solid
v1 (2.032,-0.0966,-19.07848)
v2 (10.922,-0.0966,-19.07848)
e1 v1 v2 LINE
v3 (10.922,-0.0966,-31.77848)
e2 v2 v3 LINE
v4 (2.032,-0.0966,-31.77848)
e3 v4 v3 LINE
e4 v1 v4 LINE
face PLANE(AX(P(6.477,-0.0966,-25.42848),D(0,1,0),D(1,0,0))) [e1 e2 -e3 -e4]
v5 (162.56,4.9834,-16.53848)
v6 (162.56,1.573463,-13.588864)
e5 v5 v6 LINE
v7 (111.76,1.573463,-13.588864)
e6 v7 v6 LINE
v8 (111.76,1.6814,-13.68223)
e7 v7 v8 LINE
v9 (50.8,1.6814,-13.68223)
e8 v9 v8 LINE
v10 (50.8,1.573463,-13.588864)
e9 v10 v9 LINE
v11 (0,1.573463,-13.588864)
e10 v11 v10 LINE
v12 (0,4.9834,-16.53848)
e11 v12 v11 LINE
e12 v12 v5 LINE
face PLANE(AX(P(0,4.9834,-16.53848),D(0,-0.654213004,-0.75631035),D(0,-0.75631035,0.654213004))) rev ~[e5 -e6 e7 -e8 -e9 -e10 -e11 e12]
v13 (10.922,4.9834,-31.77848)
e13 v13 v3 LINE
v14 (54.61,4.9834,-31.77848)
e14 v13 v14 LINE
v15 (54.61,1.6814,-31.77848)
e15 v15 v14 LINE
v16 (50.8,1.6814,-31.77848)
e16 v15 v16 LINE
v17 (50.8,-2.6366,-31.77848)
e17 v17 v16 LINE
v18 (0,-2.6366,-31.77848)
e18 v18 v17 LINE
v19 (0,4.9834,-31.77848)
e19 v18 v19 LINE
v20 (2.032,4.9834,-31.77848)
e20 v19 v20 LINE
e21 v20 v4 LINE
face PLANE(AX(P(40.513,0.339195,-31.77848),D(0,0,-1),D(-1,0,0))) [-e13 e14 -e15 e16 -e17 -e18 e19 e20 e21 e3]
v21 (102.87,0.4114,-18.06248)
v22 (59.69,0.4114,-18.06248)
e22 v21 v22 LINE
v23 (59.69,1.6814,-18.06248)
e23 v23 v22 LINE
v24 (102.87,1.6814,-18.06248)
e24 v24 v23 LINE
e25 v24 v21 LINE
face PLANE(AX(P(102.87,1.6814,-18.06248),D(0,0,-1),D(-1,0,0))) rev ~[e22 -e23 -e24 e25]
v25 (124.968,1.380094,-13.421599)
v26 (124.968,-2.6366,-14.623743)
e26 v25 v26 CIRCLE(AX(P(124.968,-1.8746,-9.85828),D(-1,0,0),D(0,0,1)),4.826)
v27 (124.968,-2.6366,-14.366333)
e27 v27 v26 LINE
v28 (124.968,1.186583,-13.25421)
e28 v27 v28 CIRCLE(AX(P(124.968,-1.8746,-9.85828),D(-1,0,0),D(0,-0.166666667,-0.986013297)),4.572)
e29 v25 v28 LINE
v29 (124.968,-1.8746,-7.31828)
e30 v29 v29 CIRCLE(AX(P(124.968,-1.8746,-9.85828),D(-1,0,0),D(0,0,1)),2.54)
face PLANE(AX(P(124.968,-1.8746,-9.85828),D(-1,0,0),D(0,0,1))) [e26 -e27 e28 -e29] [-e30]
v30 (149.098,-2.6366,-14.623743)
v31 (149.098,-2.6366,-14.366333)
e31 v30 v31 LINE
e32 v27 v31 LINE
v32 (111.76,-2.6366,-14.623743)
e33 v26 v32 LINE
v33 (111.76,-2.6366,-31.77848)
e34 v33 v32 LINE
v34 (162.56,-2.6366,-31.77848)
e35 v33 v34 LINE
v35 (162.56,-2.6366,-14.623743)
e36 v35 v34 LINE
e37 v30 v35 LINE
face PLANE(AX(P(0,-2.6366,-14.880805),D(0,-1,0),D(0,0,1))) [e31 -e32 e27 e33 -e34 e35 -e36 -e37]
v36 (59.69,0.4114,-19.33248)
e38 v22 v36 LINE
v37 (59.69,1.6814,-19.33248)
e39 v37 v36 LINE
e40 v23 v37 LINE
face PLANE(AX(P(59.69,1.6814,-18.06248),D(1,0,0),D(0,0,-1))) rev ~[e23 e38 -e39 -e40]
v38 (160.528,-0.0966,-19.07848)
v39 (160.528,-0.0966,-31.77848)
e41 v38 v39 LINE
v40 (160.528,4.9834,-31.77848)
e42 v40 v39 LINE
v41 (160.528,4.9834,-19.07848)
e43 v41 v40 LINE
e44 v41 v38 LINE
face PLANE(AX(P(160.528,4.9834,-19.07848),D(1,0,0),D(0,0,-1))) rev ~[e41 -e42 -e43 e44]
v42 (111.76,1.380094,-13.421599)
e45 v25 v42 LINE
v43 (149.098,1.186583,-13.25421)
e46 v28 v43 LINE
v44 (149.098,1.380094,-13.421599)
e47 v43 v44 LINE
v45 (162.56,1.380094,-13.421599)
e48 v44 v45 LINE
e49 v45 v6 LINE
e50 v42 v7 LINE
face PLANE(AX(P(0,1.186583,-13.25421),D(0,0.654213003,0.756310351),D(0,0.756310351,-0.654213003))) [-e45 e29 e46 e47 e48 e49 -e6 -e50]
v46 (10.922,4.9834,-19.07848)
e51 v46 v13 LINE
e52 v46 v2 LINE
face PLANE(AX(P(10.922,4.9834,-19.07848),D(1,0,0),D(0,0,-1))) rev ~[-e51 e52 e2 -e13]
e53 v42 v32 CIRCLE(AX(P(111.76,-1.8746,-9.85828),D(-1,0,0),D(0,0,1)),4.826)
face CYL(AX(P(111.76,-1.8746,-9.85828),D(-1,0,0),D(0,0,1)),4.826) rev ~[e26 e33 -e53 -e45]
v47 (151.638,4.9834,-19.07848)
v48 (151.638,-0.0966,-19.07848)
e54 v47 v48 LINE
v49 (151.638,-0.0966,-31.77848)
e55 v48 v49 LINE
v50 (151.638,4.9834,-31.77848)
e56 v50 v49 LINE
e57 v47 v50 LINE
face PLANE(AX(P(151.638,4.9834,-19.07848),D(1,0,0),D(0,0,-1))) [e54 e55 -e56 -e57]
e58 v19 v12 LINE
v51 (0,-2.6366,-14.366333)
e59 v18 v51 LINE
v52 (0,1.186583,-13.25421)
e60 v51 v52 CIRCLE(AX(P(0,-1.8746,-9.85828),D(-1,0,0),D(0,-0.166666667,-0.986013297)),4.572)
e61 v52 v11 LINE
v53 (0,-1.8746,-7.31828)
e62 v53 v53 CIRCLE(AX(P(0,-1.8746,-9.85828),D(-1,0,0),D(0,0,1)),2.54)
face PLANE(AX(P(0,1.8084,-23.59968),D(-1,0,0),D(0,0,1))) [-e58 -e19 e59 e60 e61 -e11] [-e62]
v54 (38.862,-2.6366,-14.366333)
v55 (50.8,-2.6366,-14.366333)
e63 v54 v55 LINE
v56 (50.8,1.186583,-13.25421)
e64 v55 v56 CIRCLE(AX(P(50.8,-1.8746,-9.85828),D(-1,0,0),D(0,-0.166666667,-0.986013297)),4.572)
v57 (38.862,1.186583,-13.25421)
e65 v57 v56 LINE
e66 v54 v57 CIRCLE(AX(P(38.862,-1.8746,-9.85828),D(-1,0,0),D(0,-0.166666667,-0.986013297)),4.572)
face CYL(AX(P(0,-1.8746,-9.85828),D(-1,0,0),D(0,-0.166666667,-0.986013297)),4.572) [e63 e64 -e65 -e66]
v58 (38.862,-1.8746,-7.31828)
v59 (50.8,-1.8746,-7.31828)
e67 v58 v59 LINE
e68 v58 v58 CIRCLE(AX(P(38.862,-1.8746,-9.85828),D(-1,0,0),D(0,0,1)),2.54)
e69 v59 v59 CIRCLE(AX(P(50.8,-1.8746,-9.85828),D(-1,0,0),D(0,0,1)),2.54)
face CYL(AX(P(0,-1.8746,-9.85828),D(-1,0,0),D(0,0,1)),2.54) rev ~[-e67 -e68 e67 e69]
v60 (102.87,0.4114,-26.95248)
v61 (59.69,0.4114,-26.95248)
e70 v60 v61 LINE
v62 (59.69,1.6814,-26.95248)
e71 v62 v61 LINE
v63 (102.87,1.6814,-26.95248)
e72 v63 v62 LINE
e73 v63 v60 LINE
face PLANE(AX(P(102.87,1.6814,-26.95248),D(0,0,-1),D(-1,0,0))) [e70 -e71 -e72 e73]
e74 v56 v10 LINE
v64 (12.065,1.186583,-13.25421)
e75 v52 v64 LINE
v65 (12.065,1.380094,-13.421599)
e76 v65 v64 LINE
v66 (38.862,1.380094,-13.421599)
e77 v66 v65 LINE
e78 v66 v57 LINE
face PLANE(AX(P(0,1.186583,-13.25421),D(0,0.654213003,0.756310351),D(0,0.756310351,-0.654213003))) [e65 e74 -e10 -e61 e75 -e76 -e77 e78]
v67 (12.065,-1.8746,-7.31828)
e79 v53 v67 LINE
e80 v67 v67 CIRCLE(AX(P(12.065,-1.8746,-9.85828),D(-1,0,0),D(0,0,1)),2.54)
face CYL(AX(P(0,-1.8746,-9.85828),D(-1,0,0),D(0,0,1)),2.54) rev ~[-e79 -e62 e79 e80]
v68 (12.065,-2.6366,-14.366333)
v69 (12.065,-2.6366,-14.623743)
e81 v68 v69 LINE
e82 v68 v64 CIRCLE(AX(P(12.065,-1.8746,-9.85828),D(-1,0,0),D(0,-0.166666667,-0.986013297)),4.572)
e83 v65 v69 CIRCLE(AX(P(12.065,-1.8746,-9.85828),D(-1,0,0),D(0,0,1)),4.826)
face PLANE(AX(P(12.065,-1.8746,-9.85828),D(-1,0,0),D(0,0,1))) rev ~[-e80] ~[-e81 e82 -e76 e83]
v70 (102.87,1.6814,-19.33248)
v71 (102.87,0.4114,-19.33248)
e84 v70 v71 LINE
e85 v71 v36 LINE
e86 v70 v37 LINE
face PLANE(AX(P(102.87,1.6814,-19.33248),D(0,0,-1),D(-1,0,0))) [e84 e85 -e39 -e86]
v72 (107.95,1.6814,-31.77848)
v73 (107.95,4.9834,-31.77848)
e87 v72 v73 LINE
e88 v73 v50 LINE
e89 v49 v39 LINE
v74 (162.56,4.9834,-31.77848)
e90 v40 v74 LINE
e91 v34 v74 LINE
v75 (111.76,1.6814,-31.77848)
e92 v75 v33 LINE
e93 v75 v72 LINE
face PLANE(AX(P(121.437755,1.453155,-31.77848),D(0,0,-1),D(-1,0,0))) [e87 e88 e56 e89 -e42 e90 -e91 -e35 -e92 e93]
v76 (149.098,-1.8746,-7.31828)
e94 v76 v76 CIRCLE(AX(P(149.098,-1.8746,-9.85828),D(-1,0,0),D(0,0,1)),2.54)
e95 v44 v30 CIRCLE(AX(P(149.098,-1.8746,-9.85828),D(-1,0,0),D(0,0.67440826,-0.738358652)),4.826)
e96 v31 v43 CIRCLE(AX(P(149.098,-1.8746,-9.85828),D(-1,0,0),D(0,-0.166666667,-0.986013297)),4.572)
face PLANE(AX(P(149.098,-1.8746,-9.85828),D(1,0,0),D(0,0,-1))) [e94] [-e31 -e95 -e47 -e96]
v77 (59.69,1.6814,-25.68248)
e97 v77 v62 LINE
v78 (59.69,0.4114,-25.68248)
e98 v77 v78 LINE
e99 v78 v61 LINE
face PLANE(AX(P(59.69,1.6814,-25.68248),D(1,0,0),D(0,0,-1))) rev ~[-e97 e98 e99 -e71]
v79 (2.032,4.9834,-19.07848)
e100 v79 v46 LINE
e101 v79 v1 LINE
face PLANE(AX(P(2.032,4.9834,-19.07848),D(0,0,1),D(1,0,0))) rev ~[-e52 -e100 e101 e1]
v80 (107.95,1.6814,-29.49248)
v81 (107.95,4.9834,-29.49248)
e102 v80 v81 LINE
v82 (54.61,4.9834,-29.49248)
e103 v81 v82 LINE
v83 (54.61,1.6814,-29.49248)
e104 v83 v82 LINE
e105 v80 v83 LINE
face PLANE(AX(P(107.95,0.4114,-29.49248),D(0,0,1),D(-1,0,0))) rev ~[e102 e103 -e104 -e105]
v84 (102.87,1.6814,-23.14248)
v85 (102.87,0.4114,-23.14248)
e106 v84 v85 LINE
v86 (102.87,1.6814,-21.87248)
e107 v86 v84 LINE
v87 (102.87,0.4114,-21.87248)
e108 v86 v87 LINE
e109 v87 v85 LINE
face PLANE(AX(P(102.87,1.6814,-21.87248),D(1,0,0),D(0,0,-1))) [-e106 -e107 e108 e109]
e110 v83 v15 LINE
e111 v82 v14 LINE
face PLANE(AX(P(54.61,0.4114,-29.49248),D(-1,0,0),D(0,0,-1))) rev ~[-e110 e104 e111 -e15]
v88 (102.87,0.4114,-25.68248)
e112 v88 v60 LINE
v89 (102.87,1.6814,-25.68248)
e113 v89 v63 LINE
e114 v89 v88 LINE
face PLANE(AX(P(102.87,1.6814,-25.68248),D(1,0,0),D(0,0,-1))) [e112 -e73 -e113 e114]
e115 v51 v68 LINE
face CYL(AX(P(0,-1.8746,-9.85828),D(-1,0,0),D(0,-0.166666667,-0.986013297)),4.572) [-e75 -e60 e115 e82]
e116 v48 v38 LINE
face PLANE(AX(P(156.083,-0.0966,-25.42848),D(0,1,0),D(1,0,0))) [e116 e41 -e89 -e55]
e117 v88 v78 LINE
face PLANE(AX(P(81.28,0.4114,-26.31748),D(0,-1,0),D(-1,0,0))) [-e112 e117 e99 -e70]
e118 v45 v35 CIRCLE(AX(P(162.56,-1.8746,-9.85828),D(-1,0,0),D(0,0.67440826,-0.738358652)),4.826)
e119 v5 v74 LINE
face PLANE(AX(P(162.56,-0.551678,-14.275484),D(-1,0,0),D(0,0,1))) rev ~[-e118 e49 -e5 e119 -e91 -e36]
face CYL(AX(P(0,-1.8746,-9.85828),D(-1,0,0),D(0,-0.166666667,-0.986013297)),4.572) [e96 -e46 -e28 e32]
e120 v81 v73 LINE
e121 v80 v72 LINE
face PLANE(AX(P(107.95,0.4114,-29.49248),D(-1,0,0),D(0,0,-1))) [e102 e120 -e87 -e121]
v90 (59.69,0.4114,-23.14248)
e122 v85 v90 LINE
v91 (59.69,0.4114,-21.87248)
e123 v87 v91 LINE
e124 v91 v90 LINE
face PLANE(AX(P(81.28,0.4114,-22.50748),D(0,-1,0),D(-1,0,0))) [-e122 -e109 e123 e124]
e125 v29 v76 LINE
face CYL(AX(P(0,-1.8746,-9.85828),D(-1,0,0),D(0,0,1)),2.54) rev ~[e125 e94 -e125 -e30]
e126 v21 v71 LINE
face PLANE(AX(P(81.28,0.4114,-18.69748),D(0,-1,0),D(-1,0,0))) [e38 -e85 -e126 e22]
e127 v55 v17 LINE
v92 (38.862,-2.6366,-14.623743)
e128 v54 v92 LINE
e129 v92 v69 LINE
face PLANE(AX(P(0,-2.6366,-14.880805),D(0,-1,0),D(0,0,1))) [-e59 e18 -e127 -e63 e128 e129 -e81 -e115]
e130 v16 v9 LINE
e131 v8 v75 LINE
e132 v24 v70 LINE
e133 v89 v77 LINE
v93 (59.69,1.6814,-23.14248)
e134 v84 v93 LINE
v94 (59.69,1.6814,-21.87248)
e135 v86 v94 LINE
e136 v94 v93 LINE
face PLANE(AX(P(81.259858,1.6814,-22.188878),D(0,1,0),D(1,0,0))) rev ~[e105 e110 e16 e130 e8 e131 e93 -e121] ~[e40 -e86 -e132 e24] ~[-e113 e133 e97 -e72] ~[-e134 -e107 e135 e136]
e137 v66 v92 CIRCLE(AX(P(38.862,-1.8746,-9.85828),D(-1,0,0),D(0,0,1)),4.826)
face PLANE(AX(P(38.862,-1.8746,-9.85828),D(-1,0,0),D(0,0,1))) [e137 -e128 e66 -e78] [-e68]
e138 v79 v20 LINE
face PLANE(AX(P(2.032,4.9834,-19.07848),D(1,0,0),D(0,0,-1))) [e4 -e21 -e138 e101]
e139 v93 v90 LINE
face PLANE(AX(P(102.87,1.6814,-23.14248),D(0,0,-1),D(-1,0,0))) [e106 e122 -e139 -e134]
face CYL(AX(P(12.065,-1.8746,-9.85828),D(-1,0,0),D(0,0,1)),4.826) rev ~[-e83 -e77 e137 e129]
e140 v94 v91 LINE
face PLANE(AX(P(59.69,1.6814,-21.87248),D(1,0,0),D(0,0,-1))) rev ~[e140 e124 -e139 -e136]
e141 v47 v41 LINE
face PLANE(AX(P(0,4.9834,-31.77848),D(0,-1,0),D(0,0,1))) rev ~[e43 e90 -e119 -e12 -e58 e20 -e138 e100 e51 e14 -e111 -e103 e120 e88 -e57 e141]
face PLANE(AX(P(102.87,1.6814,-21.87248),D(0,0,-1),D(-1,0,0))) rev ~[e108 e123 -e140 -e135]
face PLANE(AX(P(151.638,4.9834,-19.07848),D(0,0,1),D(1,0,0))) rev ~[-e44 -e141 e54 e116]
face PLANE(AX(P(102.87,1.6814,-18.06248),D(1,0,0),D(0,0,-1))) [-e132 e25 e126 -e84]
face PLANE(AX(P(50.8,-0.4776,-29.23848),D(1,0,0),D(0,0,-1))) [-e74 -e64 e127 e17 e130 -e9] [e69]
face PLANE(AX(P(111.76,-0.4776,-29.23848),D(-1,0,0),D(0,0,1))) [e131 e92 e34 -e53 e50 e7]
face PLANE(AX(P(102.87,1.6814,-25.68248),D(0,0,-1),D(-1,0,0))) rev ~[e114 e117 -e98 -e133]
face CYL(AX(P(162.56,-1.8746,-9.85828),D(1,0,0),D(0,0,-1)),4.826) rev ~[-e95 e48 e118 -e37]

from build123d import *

# Parameters (mm, degrees)
SKETCH1_R                = 1.6002
SKETCH1_R_2              = 0.8128
BOSS_EXTRUDE5_DEPTH      = 162.56
CUT_EXTRUDE1_DEPTH       = 14.351
SKETCH3_W                = 0.889
SKETCH3_H                = 5.842
BOSS_EXTRUDE6_DEPTH      = 36.957
SKETCH16_W               = 13.462
SKETCH16_H               = 6.460130881
BOSS_EXTRUDE7_DEPTH      = 33.02
CUT_EXTRUDE4_DEPTH       = 15.24
SKETCH18_W               = 1.778
SKETCH18_H               = 5.842
BOSS_EXTRUDE8_DEPTH      = 38.1
CUT_EXTRUDE5_DEPTH       = 14.224
SKETCH20_W               = 2.1336
SKETCH20_H               = 5.461
BOSS_EXTRUDE9_DEPTH      = 36.322
SKETCH22_R               = 1.4224
CUT_EXTRUDE7_DEPTH       = 20.32
CUT_EXTRUDE7_DEPTH_BACK  = 24.13
SKETCH25_W               = 112.268
SKETCH25_H               = 3.007323321
CUT_EXTRUDE8_DEPTH       = 24.13
SKETCH27_R               = 1.778
CUT_EXTRUDE9_DEPTH       = 112.268
CUT_EXTRUDE12_DEPTH      = 14.224
SKETCH34_W               = 43.053
SKETCH34_H               = 2.1336
BOSS_EXTRUDE14_DEPTH     = 7.112
SKETCH35_R               = 1.4224
CUT_EXTRUDE13_DEPTH      = 7.112
SKETCH37_W               = 60.96
SKETCH37_H               = 15.24
CUT_EXTRUDE14_DEPTH      = 3.048
SKETCH38_R               = 0.8128
CUT_EXTRUDE15_DEPTH      = 5.08
SKETCH39_R               = 0.8128
CUT_EXTRUDE16_DEPTH      = 5.08
SKETCH40_W               = 60.96
SKETCH40_H               = 2.54
CUT_EXTRUDE17_DEPTH      = 3.048
SKETCH41_R               = 1.161307013
BOSS_EXTRUDE15_DEPTH     = 6.604
SKETCH42_R               = 1.020818471
BOSS_EXTRUDE16_DEPTH     = 5.588
SKETCH43_R               = 0.8128
CUT_EXTRUDE18_DEPTH      = 5.08
SKETCH44_R               = 0.8128
CUT_EXTRUDE19_DEPTH      = 5.08
SKETCH46_W               = 60.96
SKETCH46_H               = 9.087986699
CUT_EXTRUDE21_DEPTH      = 3.048
SKETCH47_W               = 53.34
SKETCH47_H               = 2.286
CUT_EXTRUDE22_DEPTH      = 15.24
SKETCH48_R               = 2.54
BOSS_EXTRUDE17_DEPTH     = 25.146
SKETCH49_R               = 2.54
BOSS_EXTRUDE18_DEPTH     = 25.146
SKETCH50_R               = 2.794
CUT_EXTRUDE23_DEPTH      = 112.268
SKETCH51_R               = 1.27
CUT_EXTRUDE24_DEPTH      = 174.498
CUT_EXTRUDE25_DEPTH      = 1.27
SKETCH55_W               = 46.703523857
SKETCH55_H               = 5.873481267
CUT_EXTRUDE26_DEPTH      = 9.144
CUT_EXTRUDE26_DEPTH_BACK = 8.636
SKETCH57_R               = 1.029255476
BOSS_EXTRUDE20_DEPTH     = 5.08
SKETCH58_R               = 1.09273592
BOSS_EXTRUDE21_DEPTH     = 7.112
SKETCH59_R               = 1.016
CUT_EXTRUDE27_DEPTH      = 66.04
CUT_EXTRUDE27_DEPTH_BACK = 5.08
SKETCH60_R               = 1.869467668
SKETCH60_R_2             = 1.016
BOSS_EXTRUDE22_DEPTH     = 162.56
SKETCH61_R               = 2.219373527
CUT_EXTRUDE28_DEPTH      = 112.268
SKETCH62_R               = 1.016
BOSS_EXTRUDE26_DEPTH     = 25.654
SKETCH65_R               = 1.016
BOSS_EXTRUDE27_DEPTH     = 25.654
SKETCH67_R               = 2.794
CUT_EXTRUDE32_DEPTH      = 12.827
SKETCH68_R               = 2.794
CUT_EXTRUDE33_DEPTH      = 12.827
SKETCH72_R               = 2.794
CUT_EXTRUDE34_DEPTH      = 25.654
BOSS_EXTRUDE28_DEPTH     = 0.127
SKETCH77_R               = 1.016
BOSS_EXTRUDE29_DEPTH     = 0.254
SKETCH79_R               = 1.016
CUT_EXTRUDE35_DEPTH      = 15.748
SKETCH87_W               = 23.622
SKETCH87_H               = 13.462
BOSS_EXTRUDE30_DEPTH     = 6.096
CUT_EXTRUDE36_DEPTH      = 14.9098
SKETCH89_W               = 1.4478
SKETCH89_H               = 6.35
BOSS_EXTRUDE31_DEPTH     = 30.6578
BOSS_EXTRUDE32_DEPTH     = 2.159
BOSS_EXTRUDE33_DEPTH     = 2.159
CUT_EXTRUDE38_DEPTH      = 43.053
BOSS_EXTRUDE35_DEPTH     = 14.859
SKETCH98_W               = 13.462
SKETCH98_H               = 6.35
CUT_EXTRUDE41_DEPTH      = 19.431
BOSS_EXTRUDE36_DEPTH     = 15.113
SKETCH102_W              = 13.462
SKETCH102_H              = 6.35
CUT_EXTRUDE42_DEPTH      = 27.051
BOSS_EXTRUDE39_DEPTH     = 2.159
BOSS_EXTRUDE40_DEPTH     = 14.986
BOSS_EXTRUDE41_DEPTH     = 2.159
SKETCH107_R              = 5.08
CUT_EXTRUDE43_DEPTH      = 173.736
SKETCH108_R              = 4.572
SKETCH108_R_2            = 2.54
BOSS_EXTRUDE43_DEPTH     = 162.56
SKETCH111_R              = 5.08
CUT_EXTRUDE44_DEPTH      = 60.96
SKETCH112_R              = 4.826
CUT_EXTRUDE45_DEPTH      = 13.462
SKETCH114_R              = 4.826
CUT_EXTRUDE46_DEPTH      = 26.797
SKETCH116_R              = 4.826
CUT_EXTRUDE47_DEPTH      = 13.208
SKETCH125_R              = 1.016
BOSS_EXTRUDE44_DEPTH     = 8.001
SKETCH126_R              = 1.016
BOSS_EXTRUDE45_DEPTH     = 7.747
SKETCH127_W              = 43.18
SKETCH127_H              = 1.27
BOSS_EXTRUDE46_DEPTH     = 1.27
SKETCH129_W              = 13.462
SKETCH129_H              = 6.35
BOSS_EXTRUDE47_DEPTH     = 47.244
SKETCH130_W              = 12.904618135
SKETCH130_H              = 7.62
BOSS_EXTRUDE48_DEPTH     = 46.482
SKETCH131_W              = 8.89
SKETCH131_H              = 12.7
CUT_EXTRUDE48_DEPTH      = 5.08


with BuildPart() as part:
    # Sketch1 → Boss-Extrude5 (new body)
    with BuildSketch(Plane(origin=(0, 0, 0), x_dir=(0, 0, -1), z_dir=(1, 0, 0))):
        with BuildLine():
            ThreePointArc((11.4584801, -1.874600251), (11.409460099, -2.267640517), (11.265403421, -2.636600251))
            Line((11.265403421, -2.636600251), (11.4584801, -2.636600251))
            Line((11.4584801, -2.636600251), (31.7784801, -2.636600251))
            Line((31.7784801, -2.636600251), (31.7784801, 4.983399749))
            Line((31.7784801, 4.983399749), (16.5384801, 4.983399749))
            Line((16.5384801, 4.983399749), (11.265403421, -1.112600251))
            ThreePointArc((11.265403421, -1.112600251), (11.409460099, -1.481559985), (11.4584801, -1.874600251))
        make_face()
        with Locations((9.8582801, -1.874600251)):
            Circle(SKETCH1_R)
        with Locations((9.8582801, -1.874600251)):
            Circle(SKETCH1_R_2, mode=Mode.SUBTRACT)
    extrude(amount=BOSS_EXTRUDE5_DEPTH)

    # Sketch2 → Cut-Extrude1 (cut)
    with BuildSketch(Plane(origin=(0, 0, -31.7784801), x_dir=(-1, 0, 0), z_dir=(0, 0, -1))):
        Polygon((0, 4.983399749), (0, -0.858600251), (-17.78, -0.858600251), (-23.622, 4.983399749), align=None)
    extrude(amount=-CUT_EXTRUDE1_DEPTH, mode=Mode.SUBTRACT)

    # Sketch3 → Boss-Extrude6 (add)
    with BuildSketch(Plane.ZY):
        with Locations((-31.3339801, 2.062399749)):
            Rectangle(SKETCH3_W, SKETCH3_H)
    extrude(amount=-BOSS_EXTRUDE6_DEPTH)

    # Sketch16 → Boss-Extrude7 (add)
    with BuildSketch(Plane.ZY):
        with Locations((-24.1584801, 1.753334308)):
            Rectangle(SKETCH16_W, SKETCH16_H)
    extrude(amount=-BOSS_EXTRUDE7_DEPTH)

    # Sketch17 → Cut-Extrude4 (cut)
    with BuildSketch(Plane(origin=(0, 0, -31.7784801), x_dir=(-1, 0, 0), z_dir=(0, 0, -1))):
        Polygon((0, 4.983399749), (0, -0.858600251), (-17.78, -0.858600251), (-23.622, 4.983399749), align=None)
    extrude(amount=-CUT_EXTRUDE4_DEPTH, mode=Mode.SUBTRACT)

    # Sketch18 → Boss-Extrude8 (add)
    with BuildSketch(Plane.ZY):
        with Locations((-30.8894801, 2.062399749)):
            Rectangle(SKETCH18_W, SKETCH18_H)
    extrude(amount=-BOSS_EXTRUDE8_DEPTH)

    # Sketch19 → Cut-Extrude5 (cut)
    with BuildSketch(Plane(origin=(0, 0, -31.7784801), x_dir=(-1, 0, 0), z_dir=(0, 0, -1))):
        Polygon((-162.56, 4.983399749), (-162.56, -0.477600251), (-142.24, -0.477600251), (-136.779, 4.983399749), align=None)
    extrude(amount=-CUT_EXTRUDE5_DEPTH, mode=Mode.SUBTRACT)

    # Sketch20 → Boss-Extrude9 (add)
    with BuildSketch(Plane(origin=(162.56, 0, 0), x_dir=(0, 0, -1), z_dir=(1, 0, 0))):
        with Locations((30.7116801, 2.252899749)):
            Rectangle(SKETCH20_W, SKETCH20_H)
    extrude(amount=-BOSS_EXTRUDE9_DEPTH)

    # Sketch22 → Cut-Extrude7 (cut, two sides)
    with BuildSketch(Plane(origin=(0, -0.477600251, 0), x_dir=(1, 0, 0), z_dir=(0, 1, 0))) as cut_extrude7_sk:
        with Locations((145.9484, 26.5714801)):
            Circle(SKETCH22_R)
        with BuildLine():
            ThreePointArc((147.3708, 26.5714801), (146.954188686, 25.565691415), (145.9484, 25.1490801))
            Line((145.9484, 25.1490801), (157.217057139, 25.1490801))
            ThreePointArc((157.217057139, 25.1490801), (155.794657139, 26.5714801), (157.217057139, 27.9938801))
            Line((157.217057139, 27.9938801), (145.9484, 27.9938801))
            ThreePointArc((145.9484, 27.9938801), (146.954188686, 27.577268786), (147.3708, 26.5714801))
        make_face()
        with Locations((157.217057139, 26.5714801)):
            Circle(SKETCH22_R)
        with BuildLine():
            ThreePointArc((157.217057139, 19.1292801), (155.794657139, 20.5516801), (157.217057139, 21.9740801))
            Line((157.217057139, 21.9740801), (145.9484, 21.9740801))
            ThreePointArc((145.9484, 21.9740801), (146.954188686, 21.557468786), (147.3708, 20.5516801))
            ThreePointArc((147.3708, 20.5516801), (146.954188686, 19.545891415), (145.9484, 19.1292801))
            Line((145.9484, 19.1292801), (157.217057139, 19.1292801))
        make_face()
        with Locations((157.217057139, 20.5516801)):
            Circle(SKETCH22_R)
        with Locations((145.9484, 20.5516801)):
            Circle(SKETCH22_R)
    extrude(amount=CUT_EXTRUDE7_DEPTH, mode=Mode.SUBTRACT)
    extrude(cut_extrude7_sk.sketch, amount=-CUT_EXTRUDE7_DEPTH_BACK, mode=Mode.SUBTRACT)

    # Sketch25 → Cut-Extrude8 (cut)
    with BuildSketch(Plane(origin=(0, 4.983399749, 0), x_dir=(1, 0, 0), z_dir=(0, 1, 0))):
        with Locations((81.28, 9.761741761)):
            Rectangle(SKETCH25_W, SKETCH25_H)
    extrude(amount=-CUT_EXTRUDE8_DEPTH, mode=Mode.SUBTRACT)

    # Sketch27 → Cut-Extrude9 (cut)
    with BuildSketch(Plane.ZY.offset(-137.414)):
        with Locations((-9.8582801, -1.874600251)):
            Circle(SKETCH27_R)
    extrude(amount=CUT_EXTRUDE9_DEPTH, mode=Mode.SUBTRACT)

    # Sketch31 → Cut-Extrude12 (cut)
    with BuildSketch(Plane(origin=(0, 0, -31.7784801), x_dir=(-1, 0, 0), z_dir=(0, 0, -1))):
        Polygon((-162.56, 4.983399749), (-162.56, -0.477600251), (-124.968, -0.477600251), (-119.507, 4.983399749), (-124.079, 4.983399749), align=None)
    extrude(amount=-CUT_EXTRUDE12_DEPTH, mode=Mode.SUBTRACT)

    # Sketch34 → Boss-Extrude14 (add)
    with BuildSketch(Plane(origin=(0, 4.983399749, 0), x_dir=(1, 0, 0), z_dir=(0, 1, 0))):
        with Locations((141.0335, 30.7116801)):
            Rectangle(SKETCH34_W, SKETCH34_H)
    extrude(amount=-BOSS_EXTRUDE14_DEPTH)

    # Sketch35 → Cut-Extrude13 (cut)
    with BuildSketch(Plane(origin=(0, -0.477600251, 0), x_dir=(1, 0, 0), z_dir=(0, 1, 0))):
        with BuildLine():
            Line((130.048, 25.1490801), (145.9484, 25.1490801))
            ThreePointArc((145.9484, 25.1490801), (144.526, 26.5714801), (145.9484, 27.9938801))
            Line((145.9484, 27.9938801), (130.048, 27.9938801))
            ThreePointArc((130.048, 27.9938801), (131.053788686, 27.577268786), (131.4704, 26.5714801))
            ThreePointArc((131.4704, 26.5714801), (131.053788686, 25.565691415), (130.048, 25.1490801))
        make_face()
        with BuildLine():
            ThreePointArc((145.9484, 19.1292801), (144.526, 20.5516801), (145.9484, 21.9740801))
            Line((145.9484, 21.9740801), (130.048, 21.9740801))
            ThreePointArc((130.048, 21.9740801), (131.053788686, 21.557468786), (131.4704, 20.5516801))
            ThreePointArc((131.4704, 20.5516801), (131.053788686, 19.545891415), (130.048, 19.1292801))
            Line((130.048, 19.1292801), (145.9484, 19.1292801))
        make_face()
        with Locations((130.048, 20.5516801)):
            Circle(SKETCH35_R)
        with Locations((130.048, 26.5714801)):
            Circle(SKETCH35_R)
    extrude(amount=-CUT_EXTRUDE13_DEPTH, mode=Mode.SUBTRACT)

    # Sketch37 → Cut-Extrude14 (cut)
    with BuildSketch(Plane(origin=(0, -2.636600251, 0), x_dir=(-1, 0, 0), z_dir=(0, -1, 0))):
        with Locations((-81.28, 21.6184801)):
            Rectangle(SKETCH37_W, SKETCH37_H)
    extrude(amount=-CUT_EXTRUDE14_DEPTH, mode=Mode.SUBTRACT)

    # Sketch38 → Cut-Extrude15 (cut)
    with BuildSketch(Plane.ZY.offset(-111.76)):
        with Locations((-27.9684801, -1.112600251)):
            Circle(SKETCH38_R)
    extrude(amount=-CUT_EXTRUDE15_DEPTH, mode=Mode.SUBTRACT)

    # Sketch39 → Cut-Extrude16 (cut)
    with BuildSketch(Plane(origin=(50.8, 0, 0), x_dir=(0, 0, -1), z_dir=(1, 0, 0))):
        with Locations(Location((27.9684801, -1.112600251, 0), (0, 0, 180))):
            Circle(SKETCH39_R)
    extrude(amount=-CUT_EXTRUDE16_DEPTH, mode=Mode.SUBTRACT)

    # Sketch40 → Cut-Extrude17 (cut)
    with BuildSketch(Plane(origin=(0, -2.636600251, 0), x_dir=(-1, 0, 0), z_dir=(0, -1, 0))):
        with Locations((-81.28, 30.5084801)):
            Rectangle(SKETCH40_W, SKETCH40_H)
    extrude(amount=-CUT_EXTRUDE17_DEPTH, mode=Mode.SUBTRACT)

    # Sketch41 → Boss-Extrude15 (add)
    with BuildSketch(Plane(origin=(50.8, 0, 0), x_dir=(0, 0, -1), z_dir=(1, 0, 0))):
        with Locations((27.9684801, -1.112600251)):
            Circle(SKETCH41_R)
    extrude(amount=-BOSS_EXTRUDE15_DEPTH)

    # Sketch42 → Boss-Extrude16 (add)
    with BuildSketch(Plane.ZY.offset(-111.76)):
        with Locations((-27.9684801, -1.112600251)):
            Circle(SKETCH42_R)
    extrude(amount=-BOSS_EXTRUDE16_DEPTH)

    # Sketch43 → Cut-Extrude18 (cut)
    with BuildSketch(Plane(origin=(50.8, 0, 0), x_dir=(0, 0, -1), z_dir=(1, 0, 0))):
        with Locations((30.5084801, -1.112600251)):
            Circle(SKETCH43_R)
    extrude(amount=-CUT_EXTRUDE18_DEPTH, mode=Mode.SUBTRACT)

    # Sketch44 → Cut-Extrude19 (cut)
    with BuildSketch(Plane.ZY.offset(-111.76)):
        with Locations(Location((-30.5084801, -1.112600251, 0), (0, 0, 180))):
            Circle(SKETCH44_R)
    extrude(amount=-CUT_EXTRUDE19_DEPTH, mode=Mode.SUBTRACT)

    # Sketch46 → Cut-Extrude21 (cut)
    with BuildSketch(Plane(origin=(0, -2.636600251, 0), x_dir=(-1, 0, 0), z_dir=(0, -1, 0))):
        with Locations((-81.28, 9.45448675)):
            Rectangle(SKETCH46_W, SKETCH46_H)
    extrude(amount=-CUT_EXTRUDE21_DEPTH, mode=Mode.SUBTRACT)

    # Sketch47 → Cut-Extrude22 (cut)
    with BuildSketch(Plane(origin=(0, 0.411399749, 0), x_dir=(-1, 0, 0), z_dir=(0, -1, 0))):
        with Locations((-81.28, 30.6354801)):
            Rectangle(SKETCH47_W, SKETCH47_H)
    extrude(amount=-CUT_EXTRUDE22_DEPTH, mode=Mode.SUBTRACT)

    # Sketch48 → Boss-Extrude17 (add)
    with BuildSketch(Plane.ZY):
        with Locations((-9.8582801, -1.874600251)):
            Circle(SKETCH48_R)
    extrude(amount=-BOSS_EXTRUDE17_DEPTH)

    # Sketch49 → Boss-Extrude18 (add)
    with BuildSketch(Plane(origin=(162.56, 0, 0), x_dir=(0, 0, -1), z_dir=(1, 0, 0))):
        with Locations((9.8582801, -1.874600251)):
            Circle(SKETCH49_R)
    extrude(amount=-BOSS_EXTRUDE18_DEPTH)

    # Sketch50 → Cut-Extrude23 (cut)
    with BuildSketch(Plane.ZY.offset(-137.414)):
        with Locations((-9.8582801, -1.874600251)):
            Circle(SKETCH50_R)
    extrude(amount=CUT_EXTRUDE23_DEPTH, mode=Mode.SUBTRACT)

    # Sketch51 → Cut-Extrude24 (cut)
    with BuildSketch(Plane(origin=(162.56, 0, 0), x_dir=(0, 0, -1), z_dir=(1, 0, 0))):
        with Locations((9.8582801, -1.874600251)):
            Circle(SKETCH51_R)
    extrude(amount=-CUT_EXTRUDE24_DEPTH, mode=Mode.SUBTRACT)

    # Sketch52 → Cut-Extrude25 (cut)
    with BuildSketch(Plane(origin=(0, 0.411399749, 0), x_dir=(-1, 0, 0), z_dir=(0, -1, 0))):
        Polygon((-50.8, 31.7784801), (-50.8, 12.546363432), (-111.76, 12.6522801), (-111.76, 31.7784801), align=None)
    extrude(amount=-CUT_EXTRUDE25_DEPTH, mode=Mode.SUBTRACT)

    # Sketch55 → Cut-Extrude26 (cut, two sides)
    with BuildSketch(Plane.XZ.offset(2.636600251)) as cut_extrude26_sk:
        with Locations((88.408238071, -10.745489599)):
            Rectangle(SKETCH55_W, SKETCH55_H)
    extrude(amount=CUT_EXTRUDE26_DEPTH, mode=Mode.SUBTRACT)
    extrude(cut_extrude26_sk.sketch, amount=-CUT_EXTRUDE26_DEPTH_BACK, mode=Mode.SUBTRACT)

    # Sketch57 → Boss-Extrude20 (add)
    with BuildSketch(Plane(origin=(45.72, 0, 0), x_dir=(0, 0, -1), z_dir=(1, 0, 0))):
        with Locations((30.5084801, -1.112600251)):
            Circle(SKETCH57_R)
    extrude(amount=BOSS_EXTRUDE20_DEPTH)

    # Sketch58 → Boss-Extrude21 (add)
    with BuildSketch(Plane.ZY.offset(-111.76)):
        with Locations((-30.5084801, -1.112600251)):
            Circle(SKETCH58_R)
    extrude(amount=-BOSS_EXTRUDE21_DEPTH)

    # Sketch59 → Cut-Extrude27 (cut, two sides)
    with BuildSketch(Plane(origin=(50.8, 0, 0), x_dir=(0, 0, -1), z_dir=(1, 0, 0))) as cut_extrude27_sk:
        with Locations((29.2384801, -0.477600251)):
            Circle(SKETCH59_R)
    extrude(amount=CUT_EXTRUDE27_DEPTH, mode=Mode.SUBTRACT)
    extrude(cut_extrude27_sk.sketch, amount=-CUT_EXTRUDE27_DEPTH_BACK, mode=Mode.SUBTRACT)

    # Sketch60 → Boss-Extrude22 (add)
    with BuildSketch(Plane.ZY):
        with Locations((-9.8582801, -1.874600251)):
            Circle(SKETCH60_R)
        with Locations((-9.8582801, -1.874600251)):
            Circle(SKETCH60_R_2, mode=Mode.SUBTRACT)
    extrude(amount=-BOSS_EXTRUDE22_DEPTH)

    # Sketch61 → Cut-Extrude28 (cut)
    with BuildSketch(Plane.ZY.offset(-137.414)):
        with Locations((-9.8582801, -1.874600251)):
            Circle(SKETCH61_R)
    extrude(amount=CUT_EXTRUDE28_DEPTH, mode=Mode.SUBTRACT)

    # Sketch62 → Boss-Extrude26 (add)
    with BuildSketch(Plane(origin=(25.146, 0, 0), x_dir=(0, 0, -1), z_dir=(1, 0, 0))):
        with BuildLine():
            Line((12.07614536, -0.175332853), (11.906096413, -0.371919863))
            ThreePointArc((11.906096413, -0.371919863), (12.272100043, -1.083984489), (12.3982801, -1.874600251))
            ThreePointArc((12.3982801, -1.874600251), (12.368861124, -2.260064807), (12.281285672, -2.636600251))
            Line((12.281285672, -2.636600251), (12.546363432, -2.636600251))
            ThreePointArc((12.546363432, -2.636600251), (12.602645637, -1.350297092), (12.07614536, -0.175332853))
        make_face()
        with BuildLine():
            ThreePointArc((12.3982801, -1.874600251), (12.272100043, -1.083984489), (11.906096413, -0.371919863))
            ThreePointArc((11.906096413, -0.371919863), (7.352435653, -2.289743123), (12.281285672, -2.636600251))
            ThreePointArc((12.281285672, -2.636600251), (12.368861124, -2.260064807), (12.3982801, -1.874600251))
        make_face()
        with Locations(Location((9.8582801, -1.874600251, 0), (0, 0, 180))):
            Circle(SKETCH62_R, mode=Mode.SUBTRACT)
    extrude(amount=BOSS_EXTRUDE26_DEPTH)

    # Sketch65 → Boss-Extrude27 (add)
    with BuildSketch(Plane.ZY.offset(-137.414)):
        with BuildLine():
            ThreePointArc((-12.281285672, -2.636600251), (-12.364124548, -1.459457379), (-11.906096413, -0.371919863))
            Line((-11.906096413, -0.371919863), (-12.07614536, -0.175332853))
            ThreePointArc((-12.07614536, -0.175332853), (-12.602645637, -1.350297092), (-12.546363432, -2.636600251))
            Line((-12.546363432, -2.636600251), (-12.281285672, -2.636600251))
        make_face()
        with BuildLine():
            ThreePointArc((-7.3182801, -1.874600251), (-9.067664339, 0.539219692), (-11.906096413, -0.371919863))
            ThreePointArc((-11.906096413, -0.371919863), (-12.364124548, -1.459457379), (-12.281285672, -2.636600251))
            ThreePointArc((-12.281285672, -2.636600251), (-9.472815544, -4.385181275), (-7.3182801, -1.874600251))
        make_face()
        with Locations((-9.8582801, -1.874600251)):
            Circle(SKETCH65_R, mode=Mode.SUBTRACT)
    extrude(amount=BOSS_EXTRUDE27_DEPTH)

    # Sketch67 → Cut-Extrude32 (cut)
    with BuildSketch(Plane(origin=(162.56, 0, 0), x_dir=(0, 0, -1), z_dir=(1, 0, 0))):
        with Locations((9.8582801, -1.874600251)):
            Circle(SKETCH67_R)
    extrude(amount=-CUT_EXTRUDE32_DEPTH, mode=Mode.SUBTRACT)

    # Sketch68 → Cut-Extrude33 (cut)
    with BuildSketch(Plane.ZY.offset(-111.76)):
        with Locations((-9.8582801, -1.874600251)):
            Circle(SKETCH68_R)
    extrude(amount=-CUT_EXTRUDE33_DEPTH, mode=Mode.SUBTRACT)

    # Sketch72 → Cut-Extrude34 (cut)
    with BuildSketch(Plane.ZY.offset(-12.573)):
        with Locations((-9.8582801, -1.874600251)):
            Circle(SKETCH72_R)
    extrude(amount=-CUT_EXTRUDE34_DEPTH, mode=Mode.SUBTRACT)

    # Sketch74 → Boss-Extrude28 (add)
    with BuildSketch(Plane.ZY.offset(-12.573)):
        with BuildLine():
            Line((-12.546363432, -2.636600251), (-12.281285672, -2.636600251))
            ThreePointArc((-12.281285672, -2.636600251), (-7.352435653, -2.289743123), (-11.906096413, -0.371919863))
            Line((-11.906096413, -0.371919863), (-12.07614536, -0.175332853))
            ThreePointArc((-12.07614536, -0.175332853), (-12.602645637, -1.350297092), (-12.546363432, -2.636600251))
        make_face()
    extrude(amount=-BOSS_EXTRUDE28_DEPTH)

    # Sketch77 → Boss-Extrude29 (add)
    with BuildSketch(Plane.ZY.offset(-124.587)):
        with BuildLine():
            ThreePointArc((-11.906096413, -0.371919863), (-12.364124548, -1.459457379), (-12.281285672, -2.636600251))
            ThreePointArc((-12.281285672, -2.636600251), (-9.472815544, -4.385181275), (-7.3182801, -1.874600251))
            ThreePointArc((-7.3182801, -1.874600251), (-9.067664339, 0.539219692), (-11.906096413, -0.371919863))
        make_face()
        with Locations((-9.8582801, -1.874600251)):
            Circle(SKETCH77_R, mode=Mode.SUBTRACT)
        with BuildLine():
            Line((-12.546363432, -2.636600251), (-12.281285672, -2.636600251))
            ThreePointArc((-12.281285672, -2.636600251), (-12.364124548, -1.459457379), (-11.906096413, -0.371919863))
            Line((-11.906096413, -0.371919863), (-12.07614536, -0.175332853))
            ThreePointArc((-12.07614536, -0.175332853), (-12.602645637, -1.350297092), (-12.546363432, -2.636600251))
        make_face()
    extrude(amount=BOSS_EXTRUDE29_DEPTH)

    # Sketch79 → Cut-Extrude35 (cut)
    with BuildSketch(Plane.ZY):
        with Locations((-9.8582801, -1.874600251)):
            Circle(SKETCH79_R)
    extrude(amount=-CUT_EXTRUDE35_DEPTH, mode=Mode.SUBTRACT)

    # Sketch87 → Boss-Extrude30 (add)
    with BuildSketch(Plane(origin=(0, 4.983399749, 0), x_dir=(1, 0, 0), z_dir=(0, 1, 0))):
        with Locations((11.811, 23.2694801)):
            Rectangle(SKETCH87_W, SKETCH87_H)
    extrude(amount=-BOSS_EXTRUDE30_DEPTH)

    # Sketch88 → Cut-Extrude36 (cut)
    with BuildSketch(Plane(origin=(0, 0, -31.7784801), x_dir=(-1, 0, 0), z_dir=(0, 0, -1))):
        Polygon((0, 4.983399749), (0, -1.366600251), (-17.78, -1.366600251), (-23.622, 4.983399749), align=None)
    extrude(amount=-CUT_EXTRUDE36_DEPTH, mode=Mode.SUBTRACT)

    # Sketch89 → Boss-Extrude31 (add)
    with BuildSketch(Plane.ZY):
        with Locations((-31.0545801, 1.808399749)):
            Rectangle(SKETCH89_W, SKETCH89_H)
    extrude(amount=-BOSS_EXTRUDE31_DEPTH)

    # Sketch90 → Boss-Extrude32 (add)
    with BuildSketch(Plane(origin=(0, -2.636600251, 0), x_dir=(-1, 0, 0), z_dir=(0, -1, 0))):
        with BuildLine():
            Line((-130.048, 27.9938801), (-137.16, 27.9938801))
            ThreePointArc((-137.16, 27.9938801), (-136.154211314, 27.577268786), (-135.7376, 26.5714801))
            ThreePointArc((-135.7376, 26.5714801), (-136.154211314, 25.565691415), (-137.16, 25.1490801))
            Line((-137.16, 25.1490801), (-130.048, 25.1490801))
            ThreePointArc((-130.048, 25.1490801), (-128.6256, 26.5714801), (-130.048, 27.9938801))
        make_face()
        with BuildLine():
            ThreePointArc((-135.7376, 20.5516801), (-136.154211314, 19.545891415), (-137.16, 19.1292801))
            Line((-137.16, 19.1292801), (-130.048, 19.1292801))
            ThreePointArc((-130.048, 19.1292801), (-128.6256, 20.5516801), (-130.048, 21.9740801))
            Line((-130.048, 21.9740801), (-137.16, 21.9740801))
            ThreePointArc((-137.16, 21.9740801), (-136.154211314, 21.557468786), (-135.7376, 20.5516801))
        make_face()
    extrude(amount=-BOSS_EXTRUDE32_DEPTH)

    # Sketch91 → Boss-Extrude33 (add)
    with BuildSketch(Plane(origin=(0, -2.636600251, 0), x_dir=(-1, 0, 0), z_dir=(0, -1, 0))):
        with BuildLine():
            Line((-156.251857139, 26.5714801), (-158.639457139, 26.5714801))
            ThreePointArc((-158.639457139, 26.5714801), (-158.222845825, 25.565691415), (-157.217057139, 25.1490801))
            Line((-157.217057139, 25.1490801), (-154.829457139, 25.1490801))
            ThreePointArc((-154.829457139, 25.1490801), (-155.835245825, 25.565691415), (-156.251857139, 26.5714801))
        make_face()
        with BuildLine():
            ThreePointArc((-157.217057139, 27.9938801), (-158.222845825, 27.577268786), (-158.639457139, 26.5714801))
            Line((-158.639457139, 26.5714801), (-156.251857139, 26.5714801))
            ThreePointArc((-156.251857139, 26.5714801), (-155.835245825, 27.577268786), (-154.829457139, 27.9938801))
            Line((-154.829457139, 27.9938801), (-157.217057139, 27.9938801))
        make_face()
        with BuildLine():
            ThreePointArc((-157.217057139, 21.9740801), (-158.222845825, 21.557468786), (-158.639457139, 20.5516801))
            Line((-158.639457139, 20.5516801), (-156.251857139, 20.5516801))
            ThreePointArc((-156.251857139, 20.5516801), (-155.835245825, 21.557468786), (-154.829457139, 21.9740801))
            Line((-154.829457139, 21.9740801), (-157.217057139, 21.9740801))
        make_face()
        with BuildLine():
            Line((-156.251857139, 20.5516801), (-158.639457139, 20.5516801))
            ThreePointArc((-158.639457139, 20.5516801), (-158.222845825, 19.545891415), (-157.217057139, 19.1292801))
            Line((-157.217057139, 19.1292801), (-154.829457139, 19.1292801))
            ThreePointArc((-154.829457139, 19.1292801), (-155.835245825, 19.545891415), (-156.251857139, 20.5516801))
        make_face()
    extrude(amount=-BOSS_EXTRUDE33_DEPTH)

    # Sketch92 → Cut-Extrude38 (cut)
    with BuildSketch(Plane(origin=(162.56, 0, 0), x_dir=(0, 0, -1), z_dir=(1, 0, 0))):
        Polygon((29.6448801, -0.477600251), (29.8988801, -0.477600251), (29.8988801, 4.983399749), (17.3004801, 4.983399749), (17.3004801, -0.477600251), align=None)
    extrude(amount=-CUT_EXTRUDE38_DEPTH, mode=Mode.SUBTRACT)

    # Sketch94 → Boss-Extrude35 (add)
    with BuildSketch(Plane(origin=(0, 0, -31.7784801), x_dir=(-1, 0, 0), z_dir=(0, 0, -1))):
        Polygon((-119.507, 4.983399749), (-124.968, -0.477600251), (-119.507, -0.477600251), align=None)
    extrude(amount=-BOSS_EXTRUDE35_DEPTH)

    # Sketch98 → Cut-Extrude41 (cut)
    with BuildSketch(Plane.ZY.offset(-23.622)):
        with Locations((-23.5996801, 1.808399749)):
            Rectangle(SKETCH98_W, SKETCH98_H)
    extrude(amount=-CUT_EXTRUDE41_DEPTH, mode=Mode.SUBTRACT)

    # Sketch101 → Boss-Extrude36 (add)
    with BuildSketch(Plane(origin=(0, 0, -31.7784801), x_dir=(-1, 0, 0), z_dir=(0, 0, -1))):
        Polygon((-43.053, 4.983399749), (-37.592, -0.477600251), (-43.053, -0.477600251), align=None)
    extrude(amount=-BOSS_EXTRUDE36_DEPTH)

    # Sketch102 → Cut-Extrude42 (cut)
    with BuildSketch(Plane.ZY):
        with Locations((-23.5996801, 1.808399749)):
            Rectangle(SKETCH102_W, SKETCH102_H)
    extrude(amount=-CUT_EXTRUDE42_DEPTH, mode=Mode.SUBTRACT)

    # Sketch103 → Boss-Extrude39 (add)
    with BuildSketch(Plane(origin=(0, -0.477600251, 0), x_dir=(1, 0, 0), z_dir=(0, 1, 0))):
        with BuildLine():
            ThreePointArc((137.7696, 26.5714801), (138.186211314, 27.577268786), (139.192, 27.9938801))
            Line((139.192, 27.9938801), (137.16, 27.9938801))
            ThreePointArc((137.16, 27.9938801), (135.7376, 26.5714801), (137.16, 25.1490801))
            Line((137.16, 25.1490801), (139.192, 25.1490801))
            ThreePointArc((139.192, 25.1490801), (138.186211314, 25.565691415), (137.7696, 26.5714801))
        make_face()
        with BuildLine():
            ThreePointArc((137.7696, 20.5516801), (138.186211314, 21.557468786), (139.192, 21.9740801))
            Line((139.192, 21.9740801), (137.16, 21.9740801))
            ThreePointArc((137.16, 21.9740801), (135.7376, 20.5516801), (137.16, 19.1292801))
            Line((137.16, 19.1292801), (139.192, 19.1292801))
            ThreePointArc((139.192, 19.1292801), (138.186211314, 19.545891415), (137.7696, 20.5516801))
        make_face()
    extrude(amount=-BOSS_EXTRUDE39_DEPTH)

    # Sketch105 → Boss-Extrude40 (add)
    with BuildSketch(Plane(origin=(0, 0, -31.7784801), x_dir=(-1, 0, 0), z_dir=(0, 0, -1))):
        Polygon((-43.053, 4.983399749), (-43.053, -2.200805148), (-35.868795103, -2.200805148), align=None)
    extrude(amount=-BOSS_EXTRUDE40_DEPTH)

    # Sketch106 → Boss-Extrude41 (add)
    with BuildSketch(Plane(origin=(0, -0.477600251, 0), x_dir=(1, 0, 0), z_dir=(0, 1, 0))):
        with BuildLine():
            ThreePointArc((154.432, 27.9938801), (155.437788686, 27.577268786), (155.8544, 26.5714801))
            ThreePointArc((155.8544, 26.5714801), (155.437788686, 25.565691415), (154.432, 25.1490801))
            Line((154.432, 25.1490801), (154.829457139, 25.1490801))
            ThreePointArc((154.829457139, 25.1490801), (156.251857139, 26.5714801), (154.829457139, 27.9938801))
            Line((154.829457139, 27.9938801), (154.432, 27.9938801))
        make_face()
        with BuildLine():
            ThreePointArc((154.432, 21.9740801), (155.437788686, 21.557468786), (155.8544, 20.5516801))
            ThreePointArc((155.8544, 20.5516801), (155.437788686, 19.545891415), (154.432, 19.1292801))
            Line((154.432, 19.1292801), (154.829457139, 19.1292801))
            ThreePointArc((154.829457139, 19.1292801), (156.251857139, 20.5516801), (154.829457139, 21.9740801))
            Line((154.829457139, 21.9740801), (154.432, 21.9740801))
        make_face()
    extrude(amount=-BOSS_EXTRUDE41_DEPTH)

    # Sketch107 → Cut-Extrude43 (cut)
    with BuildSketch(Plane(origin=(162.56, 0, 0), x_dir=(0, 0, -1), z_dir=(1, 0, 0))):
        with Locations((9.8582801, -1.874600251)):
            Circle(SKETCH107_R)
    extrude(amount=-CUT_EXTRUDE43_DEPTH, mode=Mode.SUBTRACT)

    # Sketch108 → Boss-Extrude43 (add)
    with BuildSketch(Plane.ZY):
        with BuildLine():
            Line((-13.25421048, 1.186582667), (-13.588864385, 1.573463104))
            ThreePointArc((-13.588864385, 1.573463104), (-14.714759103, -0.384294342), (-14.880804963, -2.636600251))
            Line((-14.880804963, -2.636600251), (-14.366332895, -2.636600251))
            ThreePointArc((-14.366332895, -2.636600251), (-14.24831648, -0.597586316), (-13.25421048, 1.186582667))
        make_face()
        with Locations((-9.8582801, -1.874600251)):
            Circle(SKETCH108_R)
        with Locations((-9.8582801, -1.874600251)):
            Circle(SKETCH108_R_2, mode=Mode.SUBTRACT)
    extrude(amount=-BOSS_EXTRUDE43_DEPTH)

    # Sketch111 → Cut-Extrude44 (cut)
    with BuildSketch(Plane(origin=(50.8, 0, 0), x_dir=(0, 0, -1), z_dir=(1, 0, 0))):
        with Locations((9.8582801, -1.874600251)):
            Circle(SKETCH111_R)
    extrude(amount=CUT_EXTRUDE44_DEPTH, mode=Mode.SUBTRACT)

    # Sketch112 → Cut-Extrude45 (cut)
    with BuildSketch(Plane(origin=(162.56, 0, 0), x_dir=(0, 0, -1), z_dir=(1, 0, 0))):
        with Locations((9.8582801, -1.874600251)):
            Circle(SKETCH112_R)
    extrude(amount=-CUT_EXTRUDE45_DEPTH, mode=Mode.SUBTRACT)

    # Sketch114 → Cut-Extrude46 (cut)
    with BuildSketch(Plane.ZY.offset(-12.065)):
        with Locations((-9.8582801, -1.874600251)):
            Circle(SKETCH114_R)
    extrude(amount=-CUT_EXTRUDE46_DEPTH, mode=Mode.SUBTRACT)

    # Sketch116 → Cut-Extrude47 (cut)
    with BuildSketch(Plane.ZY.offset(-111.76)):
        with Locations((-9.8582801, -1.874600251)):
            Circle(SKETCH116_R)
    extrude(amount=-CUT_EXTRUDE47_DEPTH, mode=Mode.SUBTRACT)

    # Sketch125 → Boss-Extrude44 (add)
    with BuildSketch(Plane.ZY.offset(-111.76)):
        with Locations((-29.2384801, -0.477600251)):
            Circle(SKETCH125_R)
    extrude(amount=-BOSS_EXTRUDE44_DEPTH)

    # Sketch126 → Boss-Extrude45 (add)
    with BuildSketch(Plane(origin=(50.8, 0, 0), x_dir=(0, 0, -1), z_dir=(1, 0, 0))):
        with Locations((29.2384801, -0.477600251)):
            Circle(SKETCH126_R)
    extrude(amount=-BOSS_EXTRUDE45_DEPTH)

    # Sketch127 → Boss-Extrude46 (add)
    with BuildSketch(Plane(origin=(0, 1.681399749, 0), x_dir=(-1, 0, 0), z_dir=(0, -1, 0))):
        with Locations((-81.28, 26.3174801)):
            Rectangle(SKETCH127_W, SKETCH127_H)
        with Locations((-81.28, 22.5074801)):
            Rectangle(SKETCH127_W, SKETCH127_H)
        with Locations((-81.28, 18.6974801)):
            Rectangle(SKETCH127_W, SKETCH127_H)
    extrude(amount=BOSS_EXTRUDE46_DEPTH)

    # Sketch129 → Boss-Extrude47 (add)
    with BuildSketch(Plane.ZY):
        with Locations((-23.5996801, 1.808399749)):
            Rectangle(SKETCH129_W, SKETCH129_H)
    extrude(amount=-BOSS_EXTRUDE47_DEPTH)

    # Sketch130 → Boss-Extrude48 (add)
    with BuildSketch(Plane(origin=(162.56, 0, 0), x_dir=(0, 0, -1), z_dir=(1, 0, 0))):
        with Locations((23.752789168, 1.173399749)):
            Rectangle(SKETCH130_W, SKETCH130_H)
    extrude(amount=-BOSS_EXTRUDE48_DEPTH)

    # Sketch131 → Cut-Extrude48 (cut)
    with BuildSketch(Plane(origin=(0, 4.983399749, 0), x_dir=(1, 0, 0), z_dir=(0, 1, 0))):
        with Locations((156.083, 25.4284801)):
            Rectangle(SKETCH131_W, SKETCH131_H)
        with Locations((6.477, 25.4284801)):
            Rectangle(SKETCH131_W, SKETCH131_H)
    extrude(amount=-CUT_EXTRUDE48_DEPTH, mode=Mode.SUBTRACT)


solid = part.part
